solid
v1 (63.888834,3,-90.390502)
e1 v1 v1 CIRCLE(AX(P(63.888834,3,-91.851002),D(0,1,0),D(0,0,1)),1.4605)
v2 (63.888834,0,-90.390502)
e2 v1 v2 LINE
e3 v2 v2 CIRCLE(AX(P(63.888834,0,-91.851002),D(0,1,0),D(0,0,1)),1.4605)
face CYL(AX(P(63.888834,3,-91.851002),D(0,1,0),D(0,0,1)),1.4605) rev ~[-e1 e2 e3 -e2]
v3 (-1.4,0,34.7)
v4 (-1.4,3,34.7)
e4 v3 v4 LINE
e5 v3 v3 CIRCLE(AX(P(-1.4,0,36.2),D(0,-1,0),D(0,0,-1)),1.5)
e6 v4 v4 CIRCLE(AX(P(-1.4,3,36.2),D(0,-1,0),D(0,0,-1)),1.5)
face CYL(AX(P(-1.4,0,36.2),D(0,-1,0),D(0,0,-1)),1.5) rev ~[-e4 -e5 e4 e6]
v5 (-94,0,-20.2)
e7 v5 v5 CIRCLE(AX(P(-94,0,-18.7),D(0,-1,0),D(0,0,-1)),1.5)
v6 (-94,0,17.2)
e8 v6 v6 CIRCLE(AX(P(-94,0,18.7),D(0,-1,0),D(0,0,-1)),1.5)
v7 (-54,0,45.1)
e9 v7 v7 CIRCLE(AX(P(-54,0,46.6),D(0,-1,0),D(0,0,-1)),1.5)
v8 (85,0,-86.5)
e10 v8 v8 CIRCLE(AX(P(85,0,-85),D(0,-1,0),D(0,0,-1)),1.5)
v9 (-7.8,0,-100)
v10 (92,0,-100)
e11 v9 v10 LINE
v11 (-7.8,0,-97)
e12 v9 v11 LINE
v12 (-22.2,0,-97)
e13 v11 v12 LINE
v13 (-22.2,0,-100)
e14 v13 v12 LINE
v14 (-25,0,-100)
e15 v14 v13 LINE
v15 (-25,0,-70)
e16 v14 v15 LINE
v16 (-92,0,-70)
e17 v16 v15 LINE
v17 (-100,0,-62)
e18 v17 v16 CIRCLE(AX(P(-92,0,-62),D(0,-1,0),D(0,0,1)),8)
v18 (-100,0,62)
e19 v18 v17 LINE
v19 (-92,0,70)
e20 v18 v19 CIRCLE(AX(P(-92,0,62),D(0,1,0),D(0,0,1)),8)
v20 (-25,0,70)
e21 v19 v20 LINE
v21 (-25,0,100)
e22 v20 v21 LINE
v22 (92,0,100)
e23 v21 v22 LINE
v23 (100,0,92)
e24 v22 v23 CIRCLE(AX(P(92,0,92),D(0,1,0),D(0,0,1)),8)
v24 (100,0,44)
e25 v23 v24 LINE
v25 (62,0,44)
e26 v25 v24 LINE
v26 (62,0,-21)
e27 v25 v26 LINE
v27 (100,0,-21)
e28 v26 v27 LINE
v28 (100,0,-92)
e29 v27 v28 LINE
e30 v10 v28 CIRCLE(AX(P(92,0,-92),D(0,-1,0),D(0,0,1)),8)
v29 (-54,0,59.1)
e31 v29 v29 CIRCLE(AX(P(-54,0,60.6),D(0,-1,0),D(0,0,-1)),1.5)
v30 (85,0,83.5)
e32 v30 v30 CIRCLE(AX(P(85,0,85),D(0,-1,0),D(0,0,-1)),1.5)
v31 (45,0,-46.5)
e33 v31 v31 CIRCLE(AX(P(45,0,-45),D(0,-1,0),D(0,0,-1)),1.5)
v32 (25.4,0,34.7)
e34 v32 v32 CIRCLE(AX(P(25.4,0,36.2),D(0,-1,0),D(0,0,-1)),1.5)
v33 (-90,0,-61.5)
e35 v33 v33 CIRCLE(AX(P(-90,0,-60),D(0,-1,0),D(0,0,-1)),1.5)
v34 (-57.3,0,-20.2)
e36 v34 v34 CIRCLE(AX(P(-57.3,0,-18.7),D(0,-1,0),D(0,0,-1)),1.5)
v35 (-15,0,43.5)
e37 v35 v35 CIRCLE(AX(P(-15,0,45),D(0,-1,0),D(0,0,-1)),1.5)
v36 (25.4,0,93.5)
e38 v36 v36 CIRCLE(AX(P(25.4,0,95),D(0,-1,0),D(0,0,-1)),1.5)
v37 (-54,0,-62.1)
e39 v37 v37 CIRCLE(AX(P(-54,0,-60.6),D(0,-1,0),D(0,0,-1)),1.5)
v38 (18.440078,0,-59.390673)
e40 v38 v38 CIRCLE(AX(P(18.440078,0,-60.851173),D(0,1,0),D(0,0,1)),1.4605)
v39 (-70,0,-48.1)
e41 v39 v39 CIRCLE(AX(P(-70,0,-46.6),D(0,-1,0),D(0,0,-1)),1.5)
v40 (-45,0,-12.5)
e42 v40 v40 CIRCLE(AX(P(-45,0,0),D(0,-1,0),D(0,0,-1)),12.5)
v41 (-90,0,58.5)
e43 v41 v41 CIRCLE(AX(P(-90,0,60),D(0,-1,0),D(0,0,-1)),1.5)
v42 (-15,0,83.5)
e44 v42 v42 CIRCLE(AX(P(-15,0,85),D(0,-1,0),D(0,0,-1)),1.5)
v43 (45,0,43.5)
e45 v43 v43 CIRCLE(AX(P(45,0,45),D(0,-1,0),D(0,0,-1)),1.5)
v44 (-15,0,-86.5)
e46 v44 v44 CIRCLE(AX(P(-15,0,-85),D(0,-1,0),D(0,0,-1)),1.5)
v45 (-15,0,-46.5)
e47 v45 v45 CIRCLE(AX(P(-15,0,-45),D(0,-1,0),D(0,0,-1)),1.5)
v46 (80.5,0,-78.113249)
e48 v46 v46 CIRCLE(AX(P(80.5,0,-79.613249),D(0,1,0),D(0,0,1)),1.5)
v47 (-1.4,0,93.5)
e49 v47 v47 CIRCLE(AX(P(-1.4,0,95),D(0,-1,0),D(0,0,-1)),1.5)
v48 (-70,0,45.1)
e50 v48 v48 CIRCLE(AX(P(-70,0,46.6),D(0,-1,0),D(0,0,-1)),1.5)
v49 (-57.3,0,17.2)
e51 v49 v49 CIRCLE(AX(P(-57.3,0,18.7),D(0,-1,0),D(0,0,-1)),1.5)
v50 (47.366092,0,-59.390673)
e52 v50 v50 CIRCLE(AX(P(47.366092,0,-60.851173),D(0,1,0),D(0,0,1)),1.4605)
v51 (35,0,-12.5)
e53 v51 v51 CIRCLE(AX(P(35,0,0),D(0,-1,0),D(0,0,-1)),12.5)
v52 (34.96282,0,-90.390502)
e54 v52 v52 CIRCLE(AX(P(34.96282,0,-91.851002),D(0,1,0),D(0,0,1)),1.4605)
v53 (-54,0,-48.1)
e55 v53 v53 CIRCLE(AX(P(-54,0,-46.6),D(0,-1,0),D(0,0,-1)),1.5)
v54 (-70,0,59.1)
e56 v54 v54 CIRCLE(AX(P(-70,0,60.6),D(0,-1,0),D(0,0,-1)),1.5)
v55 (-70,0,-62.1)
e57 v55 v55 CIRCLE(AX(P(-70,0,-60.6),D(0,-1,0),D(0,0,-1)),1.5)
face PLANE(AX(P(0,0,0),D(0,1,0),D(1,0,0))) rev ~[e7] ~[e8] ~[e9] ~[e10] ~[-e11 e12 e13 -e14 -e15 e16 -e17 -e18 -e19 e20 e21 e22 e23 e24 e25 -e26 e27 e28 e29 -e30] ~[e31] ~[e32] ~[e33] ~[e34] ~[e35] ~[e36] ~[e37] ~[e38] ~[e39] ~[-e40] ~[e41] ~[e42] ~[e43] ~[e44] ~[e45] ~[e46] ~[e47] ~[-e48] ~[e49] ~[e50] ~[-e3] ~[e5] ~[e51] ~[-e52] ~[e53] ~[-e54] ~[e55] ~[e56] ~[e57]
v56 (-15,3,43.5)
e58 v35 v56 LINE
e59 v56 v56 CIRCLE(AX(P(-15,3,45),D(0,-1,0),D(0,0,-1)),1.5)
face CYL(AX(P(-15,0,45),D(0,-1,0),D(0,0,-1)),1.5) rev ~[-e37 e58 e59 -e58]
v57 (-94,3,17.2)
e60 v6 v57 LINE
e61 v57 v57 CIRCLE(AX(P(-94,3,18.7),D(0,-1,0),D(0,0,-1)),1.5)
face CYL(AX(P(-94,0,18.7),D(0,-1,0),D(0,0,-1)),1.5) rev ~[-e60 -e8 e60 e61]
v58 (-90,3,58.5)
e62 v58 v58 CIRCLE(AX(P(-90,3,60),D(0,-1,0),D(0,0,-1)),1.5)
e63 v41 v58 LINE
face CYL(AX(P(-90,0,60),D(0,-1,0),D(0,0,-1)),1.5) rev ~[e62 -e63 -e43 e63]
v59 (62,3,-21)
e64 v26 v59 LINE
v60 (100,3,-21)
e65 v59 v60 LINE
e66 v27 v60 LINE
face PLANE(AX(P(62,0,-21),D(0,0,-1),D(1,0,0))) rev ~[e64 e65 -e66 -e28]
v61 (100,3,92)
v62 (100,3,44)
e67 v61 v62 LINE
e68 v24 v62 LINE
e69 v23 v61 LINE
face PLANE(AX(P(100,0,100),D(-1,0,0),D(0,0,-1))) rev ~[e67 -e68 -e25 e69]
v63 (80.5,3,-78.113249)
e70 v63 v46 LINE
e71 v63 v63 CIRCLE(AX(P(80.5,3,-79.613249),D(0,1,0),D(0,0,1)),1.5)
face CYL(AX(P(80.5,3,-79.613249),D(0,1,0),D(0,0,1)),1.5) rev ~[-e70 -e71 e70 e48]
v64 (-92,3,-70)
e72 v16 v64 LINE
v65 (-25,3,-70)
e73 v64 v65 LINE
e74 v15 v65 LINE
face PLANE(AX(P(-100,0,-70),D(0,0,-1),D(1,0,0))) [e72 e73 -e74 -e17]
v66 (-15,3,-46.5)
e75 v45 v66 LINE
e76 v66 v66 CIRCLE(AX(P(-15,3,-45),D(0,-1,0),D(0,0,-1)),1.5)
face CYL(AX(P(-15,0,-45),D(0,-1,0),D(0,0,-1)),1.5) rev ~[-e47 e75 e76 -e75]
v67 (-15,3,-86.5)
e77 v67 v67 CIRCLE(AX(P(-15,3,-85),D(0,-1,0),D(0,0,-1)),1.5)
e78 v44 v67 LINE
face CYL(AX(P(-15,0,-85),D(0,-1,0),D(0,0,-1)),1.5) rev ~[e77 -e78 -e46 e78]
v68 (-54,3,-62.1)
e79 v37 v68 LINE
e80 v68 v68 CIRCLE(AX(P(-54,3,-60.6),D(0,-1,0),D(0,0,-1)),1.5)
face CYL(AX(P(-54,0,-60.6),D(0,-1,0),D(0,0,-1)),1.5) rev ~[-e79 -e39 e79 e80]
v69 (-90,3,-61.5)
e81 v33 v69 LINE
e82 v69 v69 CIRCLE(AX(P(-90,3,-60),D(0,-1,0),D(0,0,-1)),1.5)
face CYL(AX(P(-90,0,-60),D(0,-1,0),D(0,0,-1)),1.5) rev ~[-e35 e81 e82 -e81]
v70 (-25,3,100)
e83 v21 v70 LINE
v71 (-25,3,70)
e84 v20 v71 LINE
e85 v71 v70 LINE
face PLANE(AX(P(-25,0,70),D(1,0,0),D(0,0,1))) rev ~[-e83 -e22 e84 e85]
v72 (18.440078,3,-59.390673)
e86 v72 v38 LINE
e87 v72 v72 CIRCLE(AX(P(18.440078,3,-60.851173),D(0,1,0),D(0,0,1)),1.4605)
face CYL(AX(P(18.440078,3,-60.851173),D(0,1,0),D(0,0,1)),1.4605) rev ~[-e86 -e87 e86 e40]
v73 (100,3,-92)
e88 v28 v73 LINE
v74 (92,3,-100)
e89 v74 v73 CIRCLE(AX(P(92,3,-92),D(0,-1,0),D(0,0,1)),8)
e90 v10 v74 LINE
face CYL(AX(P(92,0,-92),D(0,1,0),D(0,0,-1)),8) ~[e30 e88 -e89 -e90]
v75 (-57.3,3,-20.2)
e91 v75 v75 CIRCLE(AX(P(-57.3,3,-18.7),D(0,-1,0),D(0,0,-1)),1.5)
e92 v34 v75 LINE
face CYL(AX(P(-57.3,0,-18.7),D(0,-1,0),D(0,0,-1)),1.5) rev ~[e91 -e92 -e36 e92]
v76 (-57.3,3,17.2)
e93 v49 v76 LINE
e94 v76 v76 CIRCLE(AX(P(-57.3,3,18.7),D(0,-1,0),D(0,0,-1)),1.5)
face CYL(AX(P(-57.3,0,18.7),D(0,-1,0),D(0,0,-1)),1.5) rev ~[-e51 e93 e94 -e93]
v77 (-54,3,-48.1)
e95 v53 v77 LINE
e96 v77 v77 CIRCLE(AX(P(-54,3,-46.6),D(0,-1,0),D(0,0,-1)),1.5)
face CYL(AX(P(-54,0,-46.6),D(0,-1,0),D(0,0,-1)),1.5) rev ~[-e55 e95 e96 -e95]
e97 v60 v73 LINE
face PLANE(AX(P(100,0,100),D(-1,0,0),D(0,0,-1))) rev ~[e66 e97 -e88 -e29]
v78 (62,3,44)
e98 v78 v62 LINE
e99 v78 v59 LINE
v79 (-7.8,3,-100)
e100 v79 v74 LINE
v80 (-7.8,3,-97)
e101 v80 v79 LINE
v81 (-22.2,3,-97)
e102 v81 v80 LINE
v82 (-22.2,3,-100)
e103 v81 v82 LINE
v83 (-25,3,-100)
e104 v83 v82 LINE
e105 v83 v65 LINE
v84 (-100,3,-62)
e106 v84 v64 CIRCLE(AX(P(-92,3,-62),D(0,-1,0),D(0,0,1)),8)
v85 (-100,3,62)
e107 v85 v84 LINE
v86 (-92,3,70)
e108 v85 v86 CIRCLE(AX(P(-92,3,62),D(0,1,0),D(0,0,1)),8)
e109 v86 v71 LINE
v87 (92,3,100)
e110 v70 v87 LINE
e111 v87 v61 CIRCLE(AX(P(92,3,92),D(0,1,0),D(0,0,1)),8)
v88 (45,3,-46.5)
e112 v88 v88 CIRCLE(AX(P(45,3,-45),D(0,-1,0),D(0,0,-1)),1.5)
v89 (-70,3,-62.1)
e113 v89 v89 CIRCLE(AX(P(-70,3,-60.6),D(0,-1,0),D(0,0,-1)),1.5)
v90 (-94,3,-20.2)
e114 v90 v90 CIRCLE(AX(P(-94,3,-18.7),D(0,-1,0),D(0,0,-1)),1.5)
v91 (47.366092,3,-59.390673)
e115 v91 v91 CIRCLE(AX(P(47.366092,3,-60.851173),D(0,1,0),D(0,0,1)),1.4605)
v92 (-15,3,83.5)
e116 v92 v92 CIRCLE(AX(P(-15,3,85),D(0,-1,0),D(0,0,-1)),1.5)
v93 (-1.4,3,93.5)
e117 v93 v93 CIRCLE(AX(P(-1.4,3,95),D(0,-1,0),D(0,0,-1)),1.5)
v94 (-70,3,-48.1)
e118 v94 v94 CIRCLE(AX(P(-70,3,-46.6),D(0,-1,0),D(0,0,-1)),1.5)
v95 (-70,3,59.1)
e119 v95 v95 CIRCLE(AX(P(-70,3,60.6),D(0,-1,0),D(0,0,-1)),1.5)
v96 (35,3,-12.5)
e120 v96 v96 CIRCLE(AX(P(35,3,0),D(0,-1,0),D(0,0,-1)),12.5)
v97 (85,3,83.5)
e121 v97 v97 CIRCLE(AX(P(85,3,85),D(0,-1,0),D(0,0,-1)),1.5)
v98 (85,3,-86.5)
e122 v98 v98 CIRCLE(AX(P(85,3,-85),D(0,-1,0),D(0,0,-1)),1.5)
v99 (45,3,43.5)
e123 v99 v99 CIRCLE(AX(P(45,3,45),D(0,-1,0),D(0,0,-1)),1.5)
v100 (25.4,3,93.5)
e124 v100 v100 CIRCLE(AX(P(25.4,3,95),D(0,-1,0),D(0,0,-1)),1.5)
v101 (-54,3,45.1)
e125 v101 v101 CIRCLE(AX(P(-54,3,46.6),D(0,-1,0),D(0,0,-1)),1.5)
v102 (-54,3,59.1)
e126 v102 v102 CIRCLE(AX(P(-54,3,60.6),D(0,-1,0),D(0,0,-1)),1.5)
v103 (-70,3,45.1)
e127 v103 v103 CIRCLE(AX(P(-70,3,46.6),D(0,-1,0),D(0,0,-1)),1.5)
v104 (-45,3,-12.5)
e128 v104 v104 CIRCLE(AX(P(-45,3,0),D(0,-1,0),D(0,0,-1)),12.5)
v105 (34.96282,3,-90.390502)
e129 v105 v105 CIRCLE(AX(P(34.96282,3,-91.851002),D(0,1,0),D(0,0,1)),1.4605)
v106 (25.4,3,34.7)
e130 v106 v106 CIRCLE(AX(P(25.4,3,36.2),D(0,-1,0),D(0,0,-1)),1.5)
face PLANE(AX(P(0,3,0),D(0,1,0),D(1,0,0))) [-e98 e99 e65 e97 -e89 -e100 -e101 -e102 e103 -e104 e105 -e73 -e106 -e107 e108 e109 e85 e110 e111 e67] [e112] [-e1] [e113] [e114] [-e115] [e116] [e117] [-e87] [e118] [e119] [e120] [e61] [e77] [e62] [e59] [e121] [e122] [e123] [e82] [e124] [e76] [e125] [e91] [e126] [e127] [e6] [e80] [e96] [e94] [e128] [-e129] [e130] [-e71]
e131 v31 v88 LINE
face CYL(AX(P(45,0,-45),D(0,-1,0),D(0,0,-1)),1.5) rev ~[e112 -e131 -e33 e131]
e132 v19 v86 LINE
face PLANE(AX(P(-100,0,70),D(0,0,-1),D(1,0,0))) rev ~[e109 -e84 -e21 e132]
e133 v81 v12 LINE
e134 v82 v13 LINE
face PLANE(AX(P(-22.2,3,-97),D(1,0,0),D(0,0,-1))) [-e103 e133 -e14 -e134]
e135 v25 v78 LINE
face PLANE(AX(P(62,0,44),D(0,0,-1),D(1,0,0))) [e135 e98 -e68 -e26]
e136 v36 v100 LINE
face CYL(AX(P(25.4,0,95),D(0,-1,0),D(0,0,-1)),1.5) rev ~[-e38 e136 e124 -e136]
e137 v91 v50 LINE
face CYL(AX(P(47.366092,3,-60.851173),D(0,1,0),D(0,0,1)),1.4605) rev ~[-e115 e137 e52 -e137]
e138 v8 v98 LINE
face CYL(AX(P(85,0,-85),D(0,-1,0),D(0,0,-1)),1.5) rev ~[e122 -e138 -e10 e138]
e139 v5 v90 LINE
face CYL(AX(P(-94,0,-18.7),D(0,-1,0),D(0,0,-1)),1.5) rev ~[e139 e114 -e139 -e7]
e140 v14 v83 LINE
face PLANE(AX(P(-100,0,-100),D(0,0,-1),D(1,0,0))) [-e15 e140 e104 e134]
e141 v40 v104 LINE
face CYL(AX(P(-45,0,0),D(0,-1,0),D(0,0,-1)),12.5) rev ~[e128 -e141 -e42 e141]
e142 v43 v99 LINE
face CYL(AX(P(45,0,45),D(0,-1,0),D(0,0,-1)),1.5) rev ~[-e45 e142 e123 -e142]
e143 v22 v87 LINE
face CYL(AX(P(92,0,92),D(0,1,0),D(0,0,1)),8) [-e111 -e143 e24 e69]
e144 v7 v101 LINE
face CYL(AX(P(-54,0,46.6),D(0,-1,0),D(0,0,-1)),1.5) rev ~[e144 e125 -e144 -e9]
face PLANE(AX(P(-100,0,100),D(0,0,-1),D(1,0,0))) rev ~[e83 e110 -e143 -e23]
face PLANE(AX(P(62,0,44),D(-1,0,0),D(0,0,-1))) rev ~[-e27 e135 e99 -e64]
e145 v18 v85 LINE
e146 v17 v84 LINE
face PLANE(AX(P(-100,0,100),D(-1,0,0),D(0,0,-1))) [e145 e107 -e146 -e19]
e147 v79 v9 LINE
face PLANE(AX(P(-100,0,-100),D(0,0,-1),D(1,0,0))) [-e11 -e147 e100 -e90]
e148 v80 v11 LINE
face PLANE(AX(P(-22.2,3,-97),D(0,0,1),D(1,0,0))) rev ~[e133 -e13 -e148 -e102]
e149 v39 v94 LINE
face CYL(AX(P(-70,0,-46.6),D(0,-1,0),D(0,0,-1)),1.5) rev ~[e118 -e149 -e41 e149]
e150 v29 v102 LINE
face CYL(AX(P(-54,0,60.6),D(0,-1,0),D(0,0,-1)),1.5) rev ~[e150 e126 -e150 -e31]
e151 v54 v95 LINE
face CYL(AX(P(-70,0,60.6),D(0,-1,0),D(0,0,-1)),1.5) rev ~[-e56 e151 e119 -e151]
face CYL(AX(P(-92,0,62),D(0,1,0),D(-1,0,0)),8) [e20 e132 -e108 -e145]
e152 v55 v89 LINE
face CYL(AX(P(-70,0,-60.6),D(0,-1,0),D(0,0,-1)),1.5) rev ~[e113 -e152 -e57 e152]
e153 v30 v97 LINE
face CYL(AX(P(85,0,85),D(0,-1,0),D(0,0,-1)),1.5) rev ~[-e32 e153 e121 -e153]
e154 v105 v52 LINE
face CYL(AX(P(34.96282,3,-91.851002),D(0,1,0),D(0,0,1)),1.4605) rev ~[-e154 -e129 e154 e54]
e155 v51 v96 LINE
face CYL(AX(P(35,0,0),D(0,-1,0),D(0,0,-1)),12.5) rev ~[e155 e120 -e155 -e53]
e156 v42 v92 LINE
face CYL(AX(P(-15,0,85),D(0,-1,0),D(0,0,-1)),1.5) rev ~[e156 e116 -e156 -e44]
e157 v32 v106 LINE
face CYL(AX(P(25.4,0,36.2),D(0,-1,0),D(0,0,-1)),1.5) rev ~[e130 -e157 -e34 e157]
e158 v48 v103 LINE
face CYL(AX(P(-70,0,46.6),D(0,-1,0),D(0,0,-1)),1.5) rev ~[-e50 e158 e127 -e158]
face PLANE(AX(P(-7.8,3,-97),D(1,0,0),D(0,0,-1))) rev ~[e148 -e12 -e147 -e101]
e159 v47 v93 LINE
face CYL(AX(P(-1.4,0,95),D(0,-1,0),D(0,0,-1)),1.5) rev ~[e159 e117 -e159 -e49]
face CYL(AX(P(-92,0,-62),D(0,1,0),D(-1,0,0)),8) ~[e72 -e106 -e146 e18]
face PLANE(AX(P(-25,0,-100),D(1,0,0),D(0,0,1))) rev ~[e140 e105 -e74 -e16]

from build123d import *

# Parameters (mm, degrees)
SKETCH1_W                      = 200
SKETCH1_H                      = 200
BOSS_EXTRUDE1_DEPTH            = 3
CUT_EXTRUDE4_REACH             = 143.453
SKETCH4_R                      = 1.5
CUT_EXTRUDE5_REACH             = 143.453
SKETCH5_W                      = 75
SKETCH5_H                      = 30
CUT_EXTRUDE5_DIRECTION_2_DEPTH = 142.453172464
CUT_EXTRUDE6_REACH             = 143.453
SKETCH3_R                      = 1.5
FILLET1_R                      = 8
CUT_EXTRUDE7_REACH             = 143.453
SKETCH6_R                      = 1.5
CUT_EXTRUDE9_REACH             = 143.453
SKETCH11_W                     = 38
SKETCH11_H                     = 65
CUT_EXTRUDE10_REACH            = 143.453
SKETCH12_R                     = 12.5
CUT_EXTRUDE11_REACH            = 143.453
SKETCH14_R                     = 1.5
CUT_EXTRUDE12_REACH            = 143.453
SKETCH15_R                     = 1.5
CUT_EXTRUDE14_REACH            = 143.453
SKETCH17_R                     = 1.4605
CUT_EXTRUDE15_REACH            = 143.453
SKETCH18_R                     = 1.5
CUT_EXTRUDE17_REACH            = 143.453
SKETCH19_W                     = 14.4
SKETCH19_H                     = 3


with BuildPart() as part:
    # Sketch1 → Boss-Extrude1 (new body)
    with BuildSketch(Plane(origin=(0, 0, 0), x_dir=(1, 0, 0), z_dir=(0, 1, 0))):
        Rectangle(SKETCH1_W, SKETCH1_H)
    extrude(amount=BOSS_EXTRUDE1_DEPTH)

    # Sketch4 → Cut-Extrude4 (cut, up to next)
    with BuildSketch(Plane.XZ, mode=Mode.PRIVATE) as cut_extrude4_sk1:
        with Locations(Location((-15, 45, 0), (0, 0, 270))):
            Circle(SKETCH4_R)
    cut_extrude4_tool1 = extrude(cut_extrude4_sk1.sketch, amount=-CUT_EXTRUDE4_REACH, mode=Mode.PRIVATE) & part.part
    # Sketch4 → Cut-Extrude4 (cut, up to next)
    with BuildSketch(Plane.XZ, mode=Mode.PRIVATE) as cut_extrude4_sk2:
        with Locations(Location((45, 45, 0), (0, 0, 270))):
            Circle(SKETCH4_R)
    cut_extrude4_tool2 = extrude(cut_extrude4_sk2.sketch, amount=-CUT_EXTRUDE4_REACH, mode=Mode.PRIVATE) & part.part
    # Sketch4 → Cut-Extrude4 (cut, up to next)
    with BuildSketch(Plane.XZ, mode=Mode.PRIVATE) as cut_extrude4_sk3:
        with Locations(Location((45, -45, 0), (0, 0, 270))):
            Circle(SKETCH4_R)
    cut_extrude4_tool3 = extrude(cut_extrude4_sk3.sketch, amount=-CUT_EXTRUDE4_REACH, mode=Mode.PRIVATE) & part.part
    # Sketch4 → Cut-Extrude4 (cut, up to next)
    with BuildSketch(Plane.XZ, mode=Mode.PRIVATE) as cut_extrude4_sk4:
        with Locations(Location((-15, -45, 0), (0, 0, 270))):
            Circle(SKETCH4_R)
    cut_extrude4_tool4 = extrude(cut_extrude4_sk4.sketch, amount=-CUT_EXTRUDE4_REACH, mode=Mode.PRIVATE) & part.part
    add(cut_extrude4_tool1.solids().sort_by_distance((-15, 0, 45))[0], mode=Mode.SUBTRACT)
    add(cut_extrude4_tool2.solids().sort_by_distance((45, 0, 45))[0], mode=Mode.SUBTRACT)
    add(cut_extrude4_tool3.solids().sort_by_distance((45, 0, -45))[0], mode=Mode.SUBTRACT)
    add(cut_extrude4_tool4.solids().sort_by_distance((-15, 0, -45))[0], mode=Mode.SUBTRACT)

    # Sketch5 → Cut-Extrude5 (cut, up to next)
    with BuildSketch(Plane.XZ, mode=Mode.PRIVATE) as cut_extrude5_sk1:
        with Locations((-62.5, -85)):
            Rectangle(SKETCH5_W, SKETCH5_H)
    cut_extrude5_tool1 = extrude(cut_extrude5_sk1.sketch, amount=-CUT_EXTRUDE5_REACH, mode=Mode.PRIVATE) & part.part
    # Sketch5 → Cut-Extrude5 (cut, up to next)
    with BuildSketch(Plane.XZ, mode=Mode.PRIVATE) as cut_extrude5_sk2:
        with Locations((-62.5, 85)):
            Rectangle(SKETCH5_W, SKETCH5_H)
    cut_extrude5_tool2 = extrude(cut_extrude5_sk2.sketch, amount=-CUT_EXTRUDE5_REACH, mode=Mode.PRIVATE) & part.part
    add(cut_extrude5_tool1.solids().sort_by_distance((-62.5, 0, -85))[0], mode=Mode.SUBTRACT)
    add(cut_extrude5_tool2.solids().sort_by_distance((-62.5, 0, 85))[0], mode=Mode.SUBTRACT)

    # Sketch5 → Cut-Extrude5 direction 2 (cut)
    with BuildSketch(Plane.XZ):
        with Locations((-62.5, -85)):
            Rectangle(SKETCH5_W, SKETCH5_H)
        with Locations((-62.5, 85)):
            Rectangle(SKETCH5_W, SKETCH5_H)
    extrude(amount=CUT_EXTRUDE5_DIRECTION_2_DEPTH, mode=Mode.SUBTRACT)

    # Sketch3 → Cut-Extrude6 (cut, up to next)
    with BuildSketch(Plane.XZ, mode=Mode.PRIVATE) as cut_extrude6_sk1:
        with Locations(Location((-70, -60.6, 0), (0, 0, 270))):
            Circle(SKETCH3_R)
    cut_extrude6_tool1 = extrude(cut_extrude6_sk1.sketch, amount=-CUT_EXTRUDE6_REACH, mode=Mode.PRIVATE) & part.part
    # Sketch3 → Cut-Extrude6 (cut, up to next)
    with BuildSketch(Plane.XZ, mode=Mode.PRIVATE) as cut_extrude6_sk2:
        with Locations(Location((-70, -46.6, 0), (0, 0, 270))):
            Circle(SKETCH3_R)
    cut_extrude6_tool2 = extrude(cut_extrude6_sk2.sketch, amount=-CUT_EXTRUDE6_REACH, mode=Mode.PRIVATE) & part.part
    # Sketch3 → Cut-Extrude6 (cut, up to next)
    with BuildSketch(Plane.XZ, mode=Mode.PRIVATE) as cut_extrude6_sk3:
        with Locations(Location((-54, -46.6, 0), (0, 0, 270))):
            Circle(SKETCH3_R)
    cut_extrude6_tool3 = extrude(cut_extrude6_sk3.sketch, amount=-CUT_EXTRUDE6_REACH, mode=Mode.PRIVATE) & part.part
    # Sketch3 → Cut-Extrude6 (cut, up to next)
    with BuildSketch(Plane.XZ, mode=Mode.PRIVATE) as cut_extrude6_sk4:
        with Locations(Location((-54, -60.6, 0), (0, 0, 270))):
            Circle(SKETCH3_R)
    cut_extrude6_tool4 = extrude(cut_extrude6_sk4.sketch, amount=-CUT_EXTRUDE6_REACH, mode=Mode.PRIVATE) & part.part
    # Sketch3 → Cut-Extrude6 (cut, up to next)
    with BuildSketch(Plane.XZ, mode=Mode.PRIVATE) as cut_extrude6_sk5:
        with Locations(Location((-70, 60.6, 0), (0, 0, 270))):
            Circle(SKETCH3_R)
    cut_extrude6_tool5 = extrude(cut_extrude6_sk5.sketch, amount=-CUT_EXTRUDE6_REACH, mode=Mode.PRIVATE) & part.part
    # Sketch3 → Cut-Extrude6 (cut, up to next)
    with BuildSketch(Plane.XZ, mode=Mode.PRIVATE) as cut_extrude6_sk6:
        with Locations(Location((-54, 60.6, 0), (0, 0, 270))):
            Circle(SKETCH3_R)
    cut_extrude6_tool6 = extrude(cut_extrude6_sk6.sketch, amount=-CUT_EXTRUDE6_REACH, mode=Mode.PRIVATE) & part.part
    # Sketch3 → Cut-Extrude6 (cut, up to next)
    with BuildSketch(Plane.XZ, mode=Mode.PRIVATE) as cut_extrude6_sk7:
        with Locations(Location((-70, 46.6, 0), (0, 0, 270))):
            Circle(SKETCH3_R)
    cut_extrude6_tool7 = extrude(cut_extrude6_sk7.sketch, amount=-CUT_EXTRUDE6_REACH, mode=Mode.PRIVATE) & part.part
    # Sketch3 → Cut-Extrude6 (cut, up to next)
    with BuildSketch(Plane.XZ, mode=Mode.PRIVATE) as cut_extrude6_sk8:
        with Locations(Location((-54, 46.6, 0), (0, 0, 270))):
            Circle(SKETCH3_R)
    cut_extrude6_tool8 = extrude(cut_extrude6_sk8.sketch, amount=-CUT_EXTRUDE6_REACH, mode=Mode.PRIVATE) & part.part
    add(cut_extrude6_tool1.solids().sort_by_distance((-70, 0, -60.6))[0], mode=Mode.SUBTRACT)
    add(cut_extrude6_tool2.solids().sort_by_distance((-70, 0, -46.6))[0], mode=Mode.SUBTRACT)
    add(cut_extrude6_tool3.solids().sort_by_distance((-54, 0, -46.6))[0], mode=Mode.SUBTRACT)
    add(cut_extrude6_tool4.solids().sort_by_distance((-54, 0, -60.6))[0], mode=Mode.SUBTRACT)
    add(cut_extrude6_tool5.solids().sort_by_distance((-70, 0, 60.6))[0], mode=Mode.SUBTRACT)
    add(cut_extrude6_tool6.solids().sort_by_distance((-54, 0, 60.6))[0], mode=Mode.SUBTRACT)
    add(cut_extrude6_tool7.solids().sort_by_distance((-70, 0, 46.6))[0], mode=Mode.SUBTRACT)
    add(cut_extrude6_tool8.solids().sort_by_distance((-54, 0, 46.6))[0], mode=Mode.SUBTRACT)

    # Fillet1
    fillet1_edges = [part.edges().sort_by_distance(p)[0] for p in [
        (-100, 1.5, -70),
        (-100, 1.5, 70),
        (100, 1.5, 100),
        (100, 1.5, -100),
    ]]
    fillet(fillet1_edges, radius=FILLET1_R)

    # Sketch6 → Cut-Extrude7 (cut, up to next)
    with BuildSketch(Plane.XZ, mode=Mode.PRIVATE) as cut_extrude7_sk1:
        with Locations(Location((-90, 60, 0), (0, 0, 270))):
            Circle(SKETCH6_R)
    cut_extrude7_tool1 = extrude(cut_extrude7_sk1.sketch, amount=-CUT_EXTRUDE7_REACH, mode=Mode.PRIVATE) & part.part
    # Sketch6 → Cut-Extrude7 (cut, up to next)
    with BuildSketch(Plane.XZ, mode=Mode.PRIVATE) as cut_extrude7_sk2:
        with Locations(Location((-90, -60, 0), (0, 0, 270))):
            Circle(SKETCH6_R)
    cut_extrude7_tool2 = extrude(cut_extrude7_sk2.sketch, amount=-CUT_EXTRUDE7_REACH, mode=Mode.PRIVATE) & part.part
    # Sketch6 → Cut-Extrude7 (cut, up to next)
    with BuildSketch(Plane.XZ, mode=Mode.PRIVATE) as cut_extrude7_sk3:
        with Locations(Location((-15, -85, 0), (0, 0, 270))):
            Circle(SKETCH6_R)
    cut_extrude7_tool3 = extrude(cut_extrude7_sk3.sketch, amount=-CUT_EXTRUDE7_REACH, mode=Mode.PRIVATE) & part.part
    # Sketch6 → Cut-Extrude7 (cut, up to next)
    with BuildSketch(Plane.XZ, mode=Mode.PRIVATE) as cut_extrude7_sk4:
        with Locations(Location((85, -85, 0), (0, 0, 270))):
            Circle(SKETCH6_R)
    cut_extrude7_tool4 = extrude(cut_extrude7_sk4.sketch, amount=-CUT_EXTRUDE7_REACH, mode=Mode.PRIVATE) & part.part
    # Sketch6 → Cut-Extrude7 (cut, up to next)
    with BuildSketch(Plane.XZ, mode=Mode.PRIVATE) as cut_extrude7_sk5:
        with Locations(Location((85, 85, 0), (0, 0, 270))):
            Circle(SKETCH6_R)
    cut_extrude7_tool5 = extrude(cut_extrude7_sk5.sketch, amount=-CUT_EXTRUDE7_REACH, mode=Mode.PRIVATE) & part.part
    # Sketch6 → Cut-Extrude7 (cut, up to next)
    with BuildSketch(Plane.XZ, mode=Mode.PRIVATE) as cut_extrude7_sk6:
        with Locations(Location((-15, 85, 0), (0, 0, 270))):
            Circle(SKETCH6_R)
    cut_extrude7_tool6 = extrude(cut_extrude7_sk6.sketch, amount=-CUT_EXTRUDE7_REACH, mode=Mode.PRIVATE) & part.part
    add(cut_extrude7_tool1.solids().sort_by_distance((-90, 0, 60))[0], mode=Mode.SUBTRACT)
    add(cut_extrude7_tool2.solids().sort_by_distance((-90, 0, -60))[0], mode=Mode.SUBTRACT)
    add(cut_extrude7_tool3.solids().sort_by_distance((-15, 0, -85))[0], mode=Mode.SUBTRACT)
    add(cut_extrude7_tool4.solids().sort_by_distance((85, 0, -85))[0], mode=Mode.SUBTRACT)
    add(cut_extrude7_tool5.solids().sort_by_distance((85, 0, 85))[0], mode=Mode.SUBTRACT)
    add(cut_extrude7_tool6.solids().sort_by_distance((-15, 0, 85))[0], mode=Mode.SUBTRACT)

    # Sketch11 → Cut-Extrude9 (cut, up to next)
    with BuildSketch(Plane(origin=(0, 0, 0), x_dir=(1, 0, 0), z_dir=(0, 1, 0)), mode=Mode.PRIVATE) as cut_extrude9_sk1:
        with Locations((81, -11.5)):
            Rectangle(SKETCH11_W, SKETCH11_H)
    cut_extrude9_tool1 = extrude(cut_extrude9_sk1.sketch, amount=CUT_EXTRUDE9_REACH, mode=Mode.PRIVATE) & part.part
    add(cut_extrude9_tool1.solids().sort_by_distance((81, 0, 11.5))[0], mode=Mode.SUBTRACT)

    # Sketch12 → Cut-Extrude10 (cut, up to next)
    with BuildSketch(Plane(origin=(0, 0, 0), x_dir=(-1, 0, 0), z_dir=(0, -1, 0)), mode=Mode.PRIVATE) as cut_extrude10_sk1:
        with Locations(Location((-35, 0, 0), (0, 0, 90))):
            Circle(SKETCH12_R)
    cut_extrude10_tool1 = extrude(cut_extrude10_sk1.sketch, amount=-CUT_EXTRUDE10_REACH, mode=Mode.PRIVATE) & part.part
    # Sketch12 → Cut-Extrude10 (cut, up to next)
    with BuildSketch(Plane(origin=(0, 0, 0), x_dir=(-1, 0, 0), z_dir=(0, -1, 0)), mode=Mode.PRIVATE) as cut_extrude10_sk2:
        with Locations(Location((45, 0, 0), (0, 0, 90))):
            Circle(SKETCH12_R)
    cut_extrude10_tool2 = extrude(cut_extrude10_sk2.sketch, amount=-CUT_EXTRUDE10_REACH, mode=Mode.PRIVATE) & part.part
    add(cut_extrude10_tool1.solids().sort_by_distance((35, 0, 0))[0], mode=Mode.SUBTRACT)
    add(cut_extrude10_tool2.solids().sort_by_distance((-45, 0, 0))[0], mode=Mode.SUBTRACT)

    # Sketch14 → Cut-Extrude11 (cut, up to next)
    with BuildSketch(Plane(origin=(0, 0, 0), x_dir=(-1, 0, 0), z_dir=(0, -1, 0)), mode=Mode.PRIVATE) as cut_extrude11_sk1:
        with Locations(Location((94, 18.7, 0), (0, 0, 90))):
            Circle(SKETCH14_R)
    cut_extrude11_tool1 = extrude(cut_extrude11_sk1.sketch, amount=-CUT_EXTRUDE11_REACH, mode=Mode.PRIVATE) & part.part
    # Sketch14 → Cut-Extrude11 (cut, up to next)
    with BuildSketch(Plane(origin=(0, 0, 0), x_dir=(-1, 0, 0), z_dir=(0, -1, 0)), mode=Mode.PRIVATE) as cut_extrude11_sk2:
        with Locations(Location((94, -18.7, 0), (0, 0, 90))):
            Circle(SKETCH14_R)
    cut_extrude11_tool2 = extrude(cut_extrude11_sk2.sketch, amount=-CUT_EXTRUDE11_REACH, mode=Mode.PRIVATE) & part.part
    # Sketch14 → Cut-Extrude11 (cut, up to next)
    with BuildSketch(Plane(origin=(0, 0, 0), x_dir=(-1, 0, 0), z_dir=(0, -1, 0)), mode=Mode.PRIVATE) as cut_extrude11_sk3:
        with Locations(Location((57.3, -18.7, 0), (0, 0, 90))):
            Circle(SKETCH14_R)
    cut_extrude11_tool3 = extrude(cut_extrude11_sk3.sketch, amount=-CUT_EXTRUDE11_REACH, mode=Mode.PRIVATE) & part.part
    # Sketch14 → Cut-Extrude11 (cut, up to next)
    with BuildSketch(Plane(origin=(0, 0, 0), x_dir=(-1, 0, 0), z_dir=(0, -1, 0)), mode=Mode.PRIVATE) as cut_extrude11_sk4:
        with Locations(Location((57.3, 18.7, 0), (0, 0, 90))):
            Circle(SKETCH14_R)
    cut_extrude11_tool4 = extrude(cut_extrude11_sk4.sketch, amount=-CUT_EXTRUDE11_REACH, mode=Mode.PRIVATE) & part.part
    add(cut_extrude11_tool1.solids().sort_by_distance((-94, 0, -18.7))[0], mode=Mode.SUBTRACT)
    add(cut_extrude11_tool2.solids().sort_by_distance((-94, 0, 18.7))[0], mode=Mode.SUBTRACT)
    add(cut_extrude11_tool3.solids().sort_by_distance((-57.3, 0, 18.7))[0], mode=Mode.SUBTRACT)
    add(cut_extrude11_tool4.solids().sort_by_distance((-57.3, 0, -18.7))[0], mode=Mode.SUBTRACT)

    # Sketch15 → Cut-Extrude12 (cut, up to next)
    with BuildSketch(Plane(origin=(0, 0, 0), x_dir=(-1, 0, 0), z_dir=(0, -1, 0)), mode=Mode.PRIVATE) as cut_extrude12_sk1:
        with Locations(Location((1.4, -95, 0), (0, 0, 90))):
            Circle(SKETCH15_R)
    cut_extrude12_tool1 = extrude(cut_extrude12_sk1.sketch, amount=-CUT_EXTRUDE12_REACH, mode=Mode.PRIVATE) & part.part
    # Sketch15 → Cut-Extrude12 (cut, up to next)
    with BuildSketch(Plane(origin=(0, 0, 0), x_dir=(-1, 0, 0), z_dir=(0, -1, 0)), mode=Mode.PRIVATE) as cut_extrude12_sk2:
        with Locations(Location((-25.4, -95, 0), (0, 0, 90))):
            Circle(SKETCH15_R)
    cut_extrude12_tool2 = extrude(cut_extrude12_sk2.sketch, amount=-CUT_EXTRUDE12_REACH, mode=Mode.PRIVATE) & part.part
    # Sketch15 → Cut-Extrude12 (cut, up to next)
    with BuildSketch(Plane(origin=(0, 0, 0), x_dir=(-1, 0, 0), z_dir=(0, -1, 0)), mode=Mode.PRIVATE) as cut_extrude12_sk3:
        with Locations(Location((-25.4, -36.2, 0), (0, 0, 90))):
            Circle(SKETCH15_R)
    cut_extrude12_tool3 = extrude(cut_extrude12_sk3.sketch, amount=-CUT_EXTRUDE12_REACH, mode=Mode.PRIVATE) & part.part
    # Sketch15 → Cut-Extrude12 (cut, up to next)
    with BuildSketch(Plane(origin=(0, 0, 0), x_dir=(-1, 0, 0), z_dir=(0, -1, 0)), mode=Mode.PRIVATE) as cut_extrude12_sk4:
        with Locations(Location((1.4, -36.2, 0), (0, 0, 90))):
            Circle(SKETCH15_R)
    cut_extrude12_tool4 = extrude(cut_extrude12_sk4.sketch, amount=-CUT_EXTRUDE12_REACH, mode=Mode.PRIVATE) & part.part
    add(cut_extrude12_tool1.solids().sort_by_distance((-1.4, 0, 95))[0], mode=Mode.SUBTRACT)
    add(cut_extrude12_tool2.solids().sort_by_distance((25.4, 0, 95))[0], mode=Mode.SUBTRACT)
    add(cut_extrude12_tool3.solids().sort_by_distance((25.4, 0, 36.2))[0], mode=Mode.SUBTRACT)
    add(cut_extrude12_tool4.solids().sort_by_distance((-1.4, 0, 36.2))[0], mode=Mode.SUBTRACT)

    # Sketch17 → Cut-Extrude14 (cut, up to next)
    with BuildSketch(Plane(origin=(0, 3, 0), x_dir=(1, 0, 0), z_dir=(0, 1, 0)), mode=Mode.PRIVATE) as cut_extrude14_sk1:
        with Locations(Location((63.888834254, 91.851002341, 0), (0, 0, 270))):
            Circle(SKETCH17_R)
    cut_extrude14_tool1 = extrude(cut_extrude14_sk1.sketch, amount=-CUT_EXTRUDE14_REACH, mode=Mode.PRIVATE) & part.part
    # Sketch17 → Cut-Extrude14 (cut, up to next)
    with BuildSketch(Plane(origin=(0, 3, 0), x_dir=(1, 0, 0), z_dir=(0, 1, 0)), mode=Mode.PRIVATE) as cut_extrude14_sk2:
        with Locations(Location((47.366092037, 60.851172908, 0), (0, 0, 270))):
            Circle(SKETCH17_R)
    cut_extrude14_tool2 = extrude(cut_extrude14_sk2.sketch, amount=-CUT_EXTRUDE14_REACH, mode=Mode.PRIVATE) & part.part
    # Sketch17 → Cut-Extrude14 (cut, up to next)
    with BuildSketch(Plane(origin=(0, 3, 0), x_dir=(1, 0, 0), z_dir=(0, 1, 0)), mode=Mode.PRIVATE) as cut_extrude14_sk3:
        with Locations(Location((34.962819931, 91.851002341, 0), (0, 0, 270))):
            Circle(SKETCH17_R)
    cut_extrude14_tool3 = extrude(cut_extrude14_sk3.sketch, amount=-CUT_EXTRUDE14_REACH, mode=Mode.PRIVATE) & part.part
    # Sketch17 → Cut-Extrude14 (cut, up to next)
    with BuildSketch(Plane(origin=(0, 3, 0), x_dir=(1, 0, 0), z_dir=(0, 1, 0)), mode=Mode.PRIVATE) as cut_extrude14_sk4:
        with Locations(Location((18.440077714, 60.851172908, 0), (0, 0, 270))):
            Circle(SKETCH17_R)
    cut_extrude14_tool4 = extrude(cut_extrude14_sk4.sketch, amount=-CUT_EXTRUDE14_REACH, mode=Mode.PRIVATE) & part.part
    add(cut_extrude14_tool1.solids().sort_by_distance((63.888834, 3, -91.851002))[0], mode=Mode.SUBTRACT)
    add(cut_extrude14_tool2.solids().sort_by_distance((47.366092, 3, -60.851173))[0], mode=Mode.SUBTRACT)
    add(cut_extrude14_tool3.solids().sort_by_distance((34.96282, 3, -91.851002))[0], mode=Mode.SUBTRACT)
    add(cut_extrude14_tool4.solids().sort_by_distance((18.440078, 3, -60.851173))[0], mode=Mode.SUBTRACT)

    # Sketch18 → Cut-Extrude15 (cut, up to next)
    with BuildSketch(Plane(origin=(0, 3, 0), x_dir=(1, 0, 0), z_dir=(0, 1, 0)), mode=Mode.PRIVATE) as cut_extrude15_sk1:
        with Locations(Location((80.5, 79.613248654, 0), (0, 0, 270))):
            Circle(SKETCH18_R)
    cut_extrude15_tool1 = extrude(cut_extrude15_sk1.sketch, amount=-CUT_EXTRUDE15_REACH, mode=Mode.PRIVATE) & part.part
    add(cut_extrude15_tool1.solids().sort_by_distance((80.5, 3, -79.613249))[0], mode=Mode.SUBTRACT)

    # Sketch19 → Cut-Extrude17 (cut, up to next)
    with BuildSketch(Plane(origin=(0, 3, 0), x_dir=(1, 0, 0), z_dir=(0, 1, 0)), mode=Mode.PRIVATE) as cut_extrude17_sk1:
        with Locations((-15, 98.5)):
            Rectangle(SKETCH19_W, SKETCH19_H)
    cut_extrude17_tool1 = extrude(cut_extrude17_sk1.sketch, amount=-CUT_EXTRUDE17_REACH, mode=Mode.PRIVATE) & part.part
    add(cut_extrude17_tool1.solids().sort_by_distance((-15, 3, -98.5))[0], mode=Mode.SUBTRACT)


solid = part.part
